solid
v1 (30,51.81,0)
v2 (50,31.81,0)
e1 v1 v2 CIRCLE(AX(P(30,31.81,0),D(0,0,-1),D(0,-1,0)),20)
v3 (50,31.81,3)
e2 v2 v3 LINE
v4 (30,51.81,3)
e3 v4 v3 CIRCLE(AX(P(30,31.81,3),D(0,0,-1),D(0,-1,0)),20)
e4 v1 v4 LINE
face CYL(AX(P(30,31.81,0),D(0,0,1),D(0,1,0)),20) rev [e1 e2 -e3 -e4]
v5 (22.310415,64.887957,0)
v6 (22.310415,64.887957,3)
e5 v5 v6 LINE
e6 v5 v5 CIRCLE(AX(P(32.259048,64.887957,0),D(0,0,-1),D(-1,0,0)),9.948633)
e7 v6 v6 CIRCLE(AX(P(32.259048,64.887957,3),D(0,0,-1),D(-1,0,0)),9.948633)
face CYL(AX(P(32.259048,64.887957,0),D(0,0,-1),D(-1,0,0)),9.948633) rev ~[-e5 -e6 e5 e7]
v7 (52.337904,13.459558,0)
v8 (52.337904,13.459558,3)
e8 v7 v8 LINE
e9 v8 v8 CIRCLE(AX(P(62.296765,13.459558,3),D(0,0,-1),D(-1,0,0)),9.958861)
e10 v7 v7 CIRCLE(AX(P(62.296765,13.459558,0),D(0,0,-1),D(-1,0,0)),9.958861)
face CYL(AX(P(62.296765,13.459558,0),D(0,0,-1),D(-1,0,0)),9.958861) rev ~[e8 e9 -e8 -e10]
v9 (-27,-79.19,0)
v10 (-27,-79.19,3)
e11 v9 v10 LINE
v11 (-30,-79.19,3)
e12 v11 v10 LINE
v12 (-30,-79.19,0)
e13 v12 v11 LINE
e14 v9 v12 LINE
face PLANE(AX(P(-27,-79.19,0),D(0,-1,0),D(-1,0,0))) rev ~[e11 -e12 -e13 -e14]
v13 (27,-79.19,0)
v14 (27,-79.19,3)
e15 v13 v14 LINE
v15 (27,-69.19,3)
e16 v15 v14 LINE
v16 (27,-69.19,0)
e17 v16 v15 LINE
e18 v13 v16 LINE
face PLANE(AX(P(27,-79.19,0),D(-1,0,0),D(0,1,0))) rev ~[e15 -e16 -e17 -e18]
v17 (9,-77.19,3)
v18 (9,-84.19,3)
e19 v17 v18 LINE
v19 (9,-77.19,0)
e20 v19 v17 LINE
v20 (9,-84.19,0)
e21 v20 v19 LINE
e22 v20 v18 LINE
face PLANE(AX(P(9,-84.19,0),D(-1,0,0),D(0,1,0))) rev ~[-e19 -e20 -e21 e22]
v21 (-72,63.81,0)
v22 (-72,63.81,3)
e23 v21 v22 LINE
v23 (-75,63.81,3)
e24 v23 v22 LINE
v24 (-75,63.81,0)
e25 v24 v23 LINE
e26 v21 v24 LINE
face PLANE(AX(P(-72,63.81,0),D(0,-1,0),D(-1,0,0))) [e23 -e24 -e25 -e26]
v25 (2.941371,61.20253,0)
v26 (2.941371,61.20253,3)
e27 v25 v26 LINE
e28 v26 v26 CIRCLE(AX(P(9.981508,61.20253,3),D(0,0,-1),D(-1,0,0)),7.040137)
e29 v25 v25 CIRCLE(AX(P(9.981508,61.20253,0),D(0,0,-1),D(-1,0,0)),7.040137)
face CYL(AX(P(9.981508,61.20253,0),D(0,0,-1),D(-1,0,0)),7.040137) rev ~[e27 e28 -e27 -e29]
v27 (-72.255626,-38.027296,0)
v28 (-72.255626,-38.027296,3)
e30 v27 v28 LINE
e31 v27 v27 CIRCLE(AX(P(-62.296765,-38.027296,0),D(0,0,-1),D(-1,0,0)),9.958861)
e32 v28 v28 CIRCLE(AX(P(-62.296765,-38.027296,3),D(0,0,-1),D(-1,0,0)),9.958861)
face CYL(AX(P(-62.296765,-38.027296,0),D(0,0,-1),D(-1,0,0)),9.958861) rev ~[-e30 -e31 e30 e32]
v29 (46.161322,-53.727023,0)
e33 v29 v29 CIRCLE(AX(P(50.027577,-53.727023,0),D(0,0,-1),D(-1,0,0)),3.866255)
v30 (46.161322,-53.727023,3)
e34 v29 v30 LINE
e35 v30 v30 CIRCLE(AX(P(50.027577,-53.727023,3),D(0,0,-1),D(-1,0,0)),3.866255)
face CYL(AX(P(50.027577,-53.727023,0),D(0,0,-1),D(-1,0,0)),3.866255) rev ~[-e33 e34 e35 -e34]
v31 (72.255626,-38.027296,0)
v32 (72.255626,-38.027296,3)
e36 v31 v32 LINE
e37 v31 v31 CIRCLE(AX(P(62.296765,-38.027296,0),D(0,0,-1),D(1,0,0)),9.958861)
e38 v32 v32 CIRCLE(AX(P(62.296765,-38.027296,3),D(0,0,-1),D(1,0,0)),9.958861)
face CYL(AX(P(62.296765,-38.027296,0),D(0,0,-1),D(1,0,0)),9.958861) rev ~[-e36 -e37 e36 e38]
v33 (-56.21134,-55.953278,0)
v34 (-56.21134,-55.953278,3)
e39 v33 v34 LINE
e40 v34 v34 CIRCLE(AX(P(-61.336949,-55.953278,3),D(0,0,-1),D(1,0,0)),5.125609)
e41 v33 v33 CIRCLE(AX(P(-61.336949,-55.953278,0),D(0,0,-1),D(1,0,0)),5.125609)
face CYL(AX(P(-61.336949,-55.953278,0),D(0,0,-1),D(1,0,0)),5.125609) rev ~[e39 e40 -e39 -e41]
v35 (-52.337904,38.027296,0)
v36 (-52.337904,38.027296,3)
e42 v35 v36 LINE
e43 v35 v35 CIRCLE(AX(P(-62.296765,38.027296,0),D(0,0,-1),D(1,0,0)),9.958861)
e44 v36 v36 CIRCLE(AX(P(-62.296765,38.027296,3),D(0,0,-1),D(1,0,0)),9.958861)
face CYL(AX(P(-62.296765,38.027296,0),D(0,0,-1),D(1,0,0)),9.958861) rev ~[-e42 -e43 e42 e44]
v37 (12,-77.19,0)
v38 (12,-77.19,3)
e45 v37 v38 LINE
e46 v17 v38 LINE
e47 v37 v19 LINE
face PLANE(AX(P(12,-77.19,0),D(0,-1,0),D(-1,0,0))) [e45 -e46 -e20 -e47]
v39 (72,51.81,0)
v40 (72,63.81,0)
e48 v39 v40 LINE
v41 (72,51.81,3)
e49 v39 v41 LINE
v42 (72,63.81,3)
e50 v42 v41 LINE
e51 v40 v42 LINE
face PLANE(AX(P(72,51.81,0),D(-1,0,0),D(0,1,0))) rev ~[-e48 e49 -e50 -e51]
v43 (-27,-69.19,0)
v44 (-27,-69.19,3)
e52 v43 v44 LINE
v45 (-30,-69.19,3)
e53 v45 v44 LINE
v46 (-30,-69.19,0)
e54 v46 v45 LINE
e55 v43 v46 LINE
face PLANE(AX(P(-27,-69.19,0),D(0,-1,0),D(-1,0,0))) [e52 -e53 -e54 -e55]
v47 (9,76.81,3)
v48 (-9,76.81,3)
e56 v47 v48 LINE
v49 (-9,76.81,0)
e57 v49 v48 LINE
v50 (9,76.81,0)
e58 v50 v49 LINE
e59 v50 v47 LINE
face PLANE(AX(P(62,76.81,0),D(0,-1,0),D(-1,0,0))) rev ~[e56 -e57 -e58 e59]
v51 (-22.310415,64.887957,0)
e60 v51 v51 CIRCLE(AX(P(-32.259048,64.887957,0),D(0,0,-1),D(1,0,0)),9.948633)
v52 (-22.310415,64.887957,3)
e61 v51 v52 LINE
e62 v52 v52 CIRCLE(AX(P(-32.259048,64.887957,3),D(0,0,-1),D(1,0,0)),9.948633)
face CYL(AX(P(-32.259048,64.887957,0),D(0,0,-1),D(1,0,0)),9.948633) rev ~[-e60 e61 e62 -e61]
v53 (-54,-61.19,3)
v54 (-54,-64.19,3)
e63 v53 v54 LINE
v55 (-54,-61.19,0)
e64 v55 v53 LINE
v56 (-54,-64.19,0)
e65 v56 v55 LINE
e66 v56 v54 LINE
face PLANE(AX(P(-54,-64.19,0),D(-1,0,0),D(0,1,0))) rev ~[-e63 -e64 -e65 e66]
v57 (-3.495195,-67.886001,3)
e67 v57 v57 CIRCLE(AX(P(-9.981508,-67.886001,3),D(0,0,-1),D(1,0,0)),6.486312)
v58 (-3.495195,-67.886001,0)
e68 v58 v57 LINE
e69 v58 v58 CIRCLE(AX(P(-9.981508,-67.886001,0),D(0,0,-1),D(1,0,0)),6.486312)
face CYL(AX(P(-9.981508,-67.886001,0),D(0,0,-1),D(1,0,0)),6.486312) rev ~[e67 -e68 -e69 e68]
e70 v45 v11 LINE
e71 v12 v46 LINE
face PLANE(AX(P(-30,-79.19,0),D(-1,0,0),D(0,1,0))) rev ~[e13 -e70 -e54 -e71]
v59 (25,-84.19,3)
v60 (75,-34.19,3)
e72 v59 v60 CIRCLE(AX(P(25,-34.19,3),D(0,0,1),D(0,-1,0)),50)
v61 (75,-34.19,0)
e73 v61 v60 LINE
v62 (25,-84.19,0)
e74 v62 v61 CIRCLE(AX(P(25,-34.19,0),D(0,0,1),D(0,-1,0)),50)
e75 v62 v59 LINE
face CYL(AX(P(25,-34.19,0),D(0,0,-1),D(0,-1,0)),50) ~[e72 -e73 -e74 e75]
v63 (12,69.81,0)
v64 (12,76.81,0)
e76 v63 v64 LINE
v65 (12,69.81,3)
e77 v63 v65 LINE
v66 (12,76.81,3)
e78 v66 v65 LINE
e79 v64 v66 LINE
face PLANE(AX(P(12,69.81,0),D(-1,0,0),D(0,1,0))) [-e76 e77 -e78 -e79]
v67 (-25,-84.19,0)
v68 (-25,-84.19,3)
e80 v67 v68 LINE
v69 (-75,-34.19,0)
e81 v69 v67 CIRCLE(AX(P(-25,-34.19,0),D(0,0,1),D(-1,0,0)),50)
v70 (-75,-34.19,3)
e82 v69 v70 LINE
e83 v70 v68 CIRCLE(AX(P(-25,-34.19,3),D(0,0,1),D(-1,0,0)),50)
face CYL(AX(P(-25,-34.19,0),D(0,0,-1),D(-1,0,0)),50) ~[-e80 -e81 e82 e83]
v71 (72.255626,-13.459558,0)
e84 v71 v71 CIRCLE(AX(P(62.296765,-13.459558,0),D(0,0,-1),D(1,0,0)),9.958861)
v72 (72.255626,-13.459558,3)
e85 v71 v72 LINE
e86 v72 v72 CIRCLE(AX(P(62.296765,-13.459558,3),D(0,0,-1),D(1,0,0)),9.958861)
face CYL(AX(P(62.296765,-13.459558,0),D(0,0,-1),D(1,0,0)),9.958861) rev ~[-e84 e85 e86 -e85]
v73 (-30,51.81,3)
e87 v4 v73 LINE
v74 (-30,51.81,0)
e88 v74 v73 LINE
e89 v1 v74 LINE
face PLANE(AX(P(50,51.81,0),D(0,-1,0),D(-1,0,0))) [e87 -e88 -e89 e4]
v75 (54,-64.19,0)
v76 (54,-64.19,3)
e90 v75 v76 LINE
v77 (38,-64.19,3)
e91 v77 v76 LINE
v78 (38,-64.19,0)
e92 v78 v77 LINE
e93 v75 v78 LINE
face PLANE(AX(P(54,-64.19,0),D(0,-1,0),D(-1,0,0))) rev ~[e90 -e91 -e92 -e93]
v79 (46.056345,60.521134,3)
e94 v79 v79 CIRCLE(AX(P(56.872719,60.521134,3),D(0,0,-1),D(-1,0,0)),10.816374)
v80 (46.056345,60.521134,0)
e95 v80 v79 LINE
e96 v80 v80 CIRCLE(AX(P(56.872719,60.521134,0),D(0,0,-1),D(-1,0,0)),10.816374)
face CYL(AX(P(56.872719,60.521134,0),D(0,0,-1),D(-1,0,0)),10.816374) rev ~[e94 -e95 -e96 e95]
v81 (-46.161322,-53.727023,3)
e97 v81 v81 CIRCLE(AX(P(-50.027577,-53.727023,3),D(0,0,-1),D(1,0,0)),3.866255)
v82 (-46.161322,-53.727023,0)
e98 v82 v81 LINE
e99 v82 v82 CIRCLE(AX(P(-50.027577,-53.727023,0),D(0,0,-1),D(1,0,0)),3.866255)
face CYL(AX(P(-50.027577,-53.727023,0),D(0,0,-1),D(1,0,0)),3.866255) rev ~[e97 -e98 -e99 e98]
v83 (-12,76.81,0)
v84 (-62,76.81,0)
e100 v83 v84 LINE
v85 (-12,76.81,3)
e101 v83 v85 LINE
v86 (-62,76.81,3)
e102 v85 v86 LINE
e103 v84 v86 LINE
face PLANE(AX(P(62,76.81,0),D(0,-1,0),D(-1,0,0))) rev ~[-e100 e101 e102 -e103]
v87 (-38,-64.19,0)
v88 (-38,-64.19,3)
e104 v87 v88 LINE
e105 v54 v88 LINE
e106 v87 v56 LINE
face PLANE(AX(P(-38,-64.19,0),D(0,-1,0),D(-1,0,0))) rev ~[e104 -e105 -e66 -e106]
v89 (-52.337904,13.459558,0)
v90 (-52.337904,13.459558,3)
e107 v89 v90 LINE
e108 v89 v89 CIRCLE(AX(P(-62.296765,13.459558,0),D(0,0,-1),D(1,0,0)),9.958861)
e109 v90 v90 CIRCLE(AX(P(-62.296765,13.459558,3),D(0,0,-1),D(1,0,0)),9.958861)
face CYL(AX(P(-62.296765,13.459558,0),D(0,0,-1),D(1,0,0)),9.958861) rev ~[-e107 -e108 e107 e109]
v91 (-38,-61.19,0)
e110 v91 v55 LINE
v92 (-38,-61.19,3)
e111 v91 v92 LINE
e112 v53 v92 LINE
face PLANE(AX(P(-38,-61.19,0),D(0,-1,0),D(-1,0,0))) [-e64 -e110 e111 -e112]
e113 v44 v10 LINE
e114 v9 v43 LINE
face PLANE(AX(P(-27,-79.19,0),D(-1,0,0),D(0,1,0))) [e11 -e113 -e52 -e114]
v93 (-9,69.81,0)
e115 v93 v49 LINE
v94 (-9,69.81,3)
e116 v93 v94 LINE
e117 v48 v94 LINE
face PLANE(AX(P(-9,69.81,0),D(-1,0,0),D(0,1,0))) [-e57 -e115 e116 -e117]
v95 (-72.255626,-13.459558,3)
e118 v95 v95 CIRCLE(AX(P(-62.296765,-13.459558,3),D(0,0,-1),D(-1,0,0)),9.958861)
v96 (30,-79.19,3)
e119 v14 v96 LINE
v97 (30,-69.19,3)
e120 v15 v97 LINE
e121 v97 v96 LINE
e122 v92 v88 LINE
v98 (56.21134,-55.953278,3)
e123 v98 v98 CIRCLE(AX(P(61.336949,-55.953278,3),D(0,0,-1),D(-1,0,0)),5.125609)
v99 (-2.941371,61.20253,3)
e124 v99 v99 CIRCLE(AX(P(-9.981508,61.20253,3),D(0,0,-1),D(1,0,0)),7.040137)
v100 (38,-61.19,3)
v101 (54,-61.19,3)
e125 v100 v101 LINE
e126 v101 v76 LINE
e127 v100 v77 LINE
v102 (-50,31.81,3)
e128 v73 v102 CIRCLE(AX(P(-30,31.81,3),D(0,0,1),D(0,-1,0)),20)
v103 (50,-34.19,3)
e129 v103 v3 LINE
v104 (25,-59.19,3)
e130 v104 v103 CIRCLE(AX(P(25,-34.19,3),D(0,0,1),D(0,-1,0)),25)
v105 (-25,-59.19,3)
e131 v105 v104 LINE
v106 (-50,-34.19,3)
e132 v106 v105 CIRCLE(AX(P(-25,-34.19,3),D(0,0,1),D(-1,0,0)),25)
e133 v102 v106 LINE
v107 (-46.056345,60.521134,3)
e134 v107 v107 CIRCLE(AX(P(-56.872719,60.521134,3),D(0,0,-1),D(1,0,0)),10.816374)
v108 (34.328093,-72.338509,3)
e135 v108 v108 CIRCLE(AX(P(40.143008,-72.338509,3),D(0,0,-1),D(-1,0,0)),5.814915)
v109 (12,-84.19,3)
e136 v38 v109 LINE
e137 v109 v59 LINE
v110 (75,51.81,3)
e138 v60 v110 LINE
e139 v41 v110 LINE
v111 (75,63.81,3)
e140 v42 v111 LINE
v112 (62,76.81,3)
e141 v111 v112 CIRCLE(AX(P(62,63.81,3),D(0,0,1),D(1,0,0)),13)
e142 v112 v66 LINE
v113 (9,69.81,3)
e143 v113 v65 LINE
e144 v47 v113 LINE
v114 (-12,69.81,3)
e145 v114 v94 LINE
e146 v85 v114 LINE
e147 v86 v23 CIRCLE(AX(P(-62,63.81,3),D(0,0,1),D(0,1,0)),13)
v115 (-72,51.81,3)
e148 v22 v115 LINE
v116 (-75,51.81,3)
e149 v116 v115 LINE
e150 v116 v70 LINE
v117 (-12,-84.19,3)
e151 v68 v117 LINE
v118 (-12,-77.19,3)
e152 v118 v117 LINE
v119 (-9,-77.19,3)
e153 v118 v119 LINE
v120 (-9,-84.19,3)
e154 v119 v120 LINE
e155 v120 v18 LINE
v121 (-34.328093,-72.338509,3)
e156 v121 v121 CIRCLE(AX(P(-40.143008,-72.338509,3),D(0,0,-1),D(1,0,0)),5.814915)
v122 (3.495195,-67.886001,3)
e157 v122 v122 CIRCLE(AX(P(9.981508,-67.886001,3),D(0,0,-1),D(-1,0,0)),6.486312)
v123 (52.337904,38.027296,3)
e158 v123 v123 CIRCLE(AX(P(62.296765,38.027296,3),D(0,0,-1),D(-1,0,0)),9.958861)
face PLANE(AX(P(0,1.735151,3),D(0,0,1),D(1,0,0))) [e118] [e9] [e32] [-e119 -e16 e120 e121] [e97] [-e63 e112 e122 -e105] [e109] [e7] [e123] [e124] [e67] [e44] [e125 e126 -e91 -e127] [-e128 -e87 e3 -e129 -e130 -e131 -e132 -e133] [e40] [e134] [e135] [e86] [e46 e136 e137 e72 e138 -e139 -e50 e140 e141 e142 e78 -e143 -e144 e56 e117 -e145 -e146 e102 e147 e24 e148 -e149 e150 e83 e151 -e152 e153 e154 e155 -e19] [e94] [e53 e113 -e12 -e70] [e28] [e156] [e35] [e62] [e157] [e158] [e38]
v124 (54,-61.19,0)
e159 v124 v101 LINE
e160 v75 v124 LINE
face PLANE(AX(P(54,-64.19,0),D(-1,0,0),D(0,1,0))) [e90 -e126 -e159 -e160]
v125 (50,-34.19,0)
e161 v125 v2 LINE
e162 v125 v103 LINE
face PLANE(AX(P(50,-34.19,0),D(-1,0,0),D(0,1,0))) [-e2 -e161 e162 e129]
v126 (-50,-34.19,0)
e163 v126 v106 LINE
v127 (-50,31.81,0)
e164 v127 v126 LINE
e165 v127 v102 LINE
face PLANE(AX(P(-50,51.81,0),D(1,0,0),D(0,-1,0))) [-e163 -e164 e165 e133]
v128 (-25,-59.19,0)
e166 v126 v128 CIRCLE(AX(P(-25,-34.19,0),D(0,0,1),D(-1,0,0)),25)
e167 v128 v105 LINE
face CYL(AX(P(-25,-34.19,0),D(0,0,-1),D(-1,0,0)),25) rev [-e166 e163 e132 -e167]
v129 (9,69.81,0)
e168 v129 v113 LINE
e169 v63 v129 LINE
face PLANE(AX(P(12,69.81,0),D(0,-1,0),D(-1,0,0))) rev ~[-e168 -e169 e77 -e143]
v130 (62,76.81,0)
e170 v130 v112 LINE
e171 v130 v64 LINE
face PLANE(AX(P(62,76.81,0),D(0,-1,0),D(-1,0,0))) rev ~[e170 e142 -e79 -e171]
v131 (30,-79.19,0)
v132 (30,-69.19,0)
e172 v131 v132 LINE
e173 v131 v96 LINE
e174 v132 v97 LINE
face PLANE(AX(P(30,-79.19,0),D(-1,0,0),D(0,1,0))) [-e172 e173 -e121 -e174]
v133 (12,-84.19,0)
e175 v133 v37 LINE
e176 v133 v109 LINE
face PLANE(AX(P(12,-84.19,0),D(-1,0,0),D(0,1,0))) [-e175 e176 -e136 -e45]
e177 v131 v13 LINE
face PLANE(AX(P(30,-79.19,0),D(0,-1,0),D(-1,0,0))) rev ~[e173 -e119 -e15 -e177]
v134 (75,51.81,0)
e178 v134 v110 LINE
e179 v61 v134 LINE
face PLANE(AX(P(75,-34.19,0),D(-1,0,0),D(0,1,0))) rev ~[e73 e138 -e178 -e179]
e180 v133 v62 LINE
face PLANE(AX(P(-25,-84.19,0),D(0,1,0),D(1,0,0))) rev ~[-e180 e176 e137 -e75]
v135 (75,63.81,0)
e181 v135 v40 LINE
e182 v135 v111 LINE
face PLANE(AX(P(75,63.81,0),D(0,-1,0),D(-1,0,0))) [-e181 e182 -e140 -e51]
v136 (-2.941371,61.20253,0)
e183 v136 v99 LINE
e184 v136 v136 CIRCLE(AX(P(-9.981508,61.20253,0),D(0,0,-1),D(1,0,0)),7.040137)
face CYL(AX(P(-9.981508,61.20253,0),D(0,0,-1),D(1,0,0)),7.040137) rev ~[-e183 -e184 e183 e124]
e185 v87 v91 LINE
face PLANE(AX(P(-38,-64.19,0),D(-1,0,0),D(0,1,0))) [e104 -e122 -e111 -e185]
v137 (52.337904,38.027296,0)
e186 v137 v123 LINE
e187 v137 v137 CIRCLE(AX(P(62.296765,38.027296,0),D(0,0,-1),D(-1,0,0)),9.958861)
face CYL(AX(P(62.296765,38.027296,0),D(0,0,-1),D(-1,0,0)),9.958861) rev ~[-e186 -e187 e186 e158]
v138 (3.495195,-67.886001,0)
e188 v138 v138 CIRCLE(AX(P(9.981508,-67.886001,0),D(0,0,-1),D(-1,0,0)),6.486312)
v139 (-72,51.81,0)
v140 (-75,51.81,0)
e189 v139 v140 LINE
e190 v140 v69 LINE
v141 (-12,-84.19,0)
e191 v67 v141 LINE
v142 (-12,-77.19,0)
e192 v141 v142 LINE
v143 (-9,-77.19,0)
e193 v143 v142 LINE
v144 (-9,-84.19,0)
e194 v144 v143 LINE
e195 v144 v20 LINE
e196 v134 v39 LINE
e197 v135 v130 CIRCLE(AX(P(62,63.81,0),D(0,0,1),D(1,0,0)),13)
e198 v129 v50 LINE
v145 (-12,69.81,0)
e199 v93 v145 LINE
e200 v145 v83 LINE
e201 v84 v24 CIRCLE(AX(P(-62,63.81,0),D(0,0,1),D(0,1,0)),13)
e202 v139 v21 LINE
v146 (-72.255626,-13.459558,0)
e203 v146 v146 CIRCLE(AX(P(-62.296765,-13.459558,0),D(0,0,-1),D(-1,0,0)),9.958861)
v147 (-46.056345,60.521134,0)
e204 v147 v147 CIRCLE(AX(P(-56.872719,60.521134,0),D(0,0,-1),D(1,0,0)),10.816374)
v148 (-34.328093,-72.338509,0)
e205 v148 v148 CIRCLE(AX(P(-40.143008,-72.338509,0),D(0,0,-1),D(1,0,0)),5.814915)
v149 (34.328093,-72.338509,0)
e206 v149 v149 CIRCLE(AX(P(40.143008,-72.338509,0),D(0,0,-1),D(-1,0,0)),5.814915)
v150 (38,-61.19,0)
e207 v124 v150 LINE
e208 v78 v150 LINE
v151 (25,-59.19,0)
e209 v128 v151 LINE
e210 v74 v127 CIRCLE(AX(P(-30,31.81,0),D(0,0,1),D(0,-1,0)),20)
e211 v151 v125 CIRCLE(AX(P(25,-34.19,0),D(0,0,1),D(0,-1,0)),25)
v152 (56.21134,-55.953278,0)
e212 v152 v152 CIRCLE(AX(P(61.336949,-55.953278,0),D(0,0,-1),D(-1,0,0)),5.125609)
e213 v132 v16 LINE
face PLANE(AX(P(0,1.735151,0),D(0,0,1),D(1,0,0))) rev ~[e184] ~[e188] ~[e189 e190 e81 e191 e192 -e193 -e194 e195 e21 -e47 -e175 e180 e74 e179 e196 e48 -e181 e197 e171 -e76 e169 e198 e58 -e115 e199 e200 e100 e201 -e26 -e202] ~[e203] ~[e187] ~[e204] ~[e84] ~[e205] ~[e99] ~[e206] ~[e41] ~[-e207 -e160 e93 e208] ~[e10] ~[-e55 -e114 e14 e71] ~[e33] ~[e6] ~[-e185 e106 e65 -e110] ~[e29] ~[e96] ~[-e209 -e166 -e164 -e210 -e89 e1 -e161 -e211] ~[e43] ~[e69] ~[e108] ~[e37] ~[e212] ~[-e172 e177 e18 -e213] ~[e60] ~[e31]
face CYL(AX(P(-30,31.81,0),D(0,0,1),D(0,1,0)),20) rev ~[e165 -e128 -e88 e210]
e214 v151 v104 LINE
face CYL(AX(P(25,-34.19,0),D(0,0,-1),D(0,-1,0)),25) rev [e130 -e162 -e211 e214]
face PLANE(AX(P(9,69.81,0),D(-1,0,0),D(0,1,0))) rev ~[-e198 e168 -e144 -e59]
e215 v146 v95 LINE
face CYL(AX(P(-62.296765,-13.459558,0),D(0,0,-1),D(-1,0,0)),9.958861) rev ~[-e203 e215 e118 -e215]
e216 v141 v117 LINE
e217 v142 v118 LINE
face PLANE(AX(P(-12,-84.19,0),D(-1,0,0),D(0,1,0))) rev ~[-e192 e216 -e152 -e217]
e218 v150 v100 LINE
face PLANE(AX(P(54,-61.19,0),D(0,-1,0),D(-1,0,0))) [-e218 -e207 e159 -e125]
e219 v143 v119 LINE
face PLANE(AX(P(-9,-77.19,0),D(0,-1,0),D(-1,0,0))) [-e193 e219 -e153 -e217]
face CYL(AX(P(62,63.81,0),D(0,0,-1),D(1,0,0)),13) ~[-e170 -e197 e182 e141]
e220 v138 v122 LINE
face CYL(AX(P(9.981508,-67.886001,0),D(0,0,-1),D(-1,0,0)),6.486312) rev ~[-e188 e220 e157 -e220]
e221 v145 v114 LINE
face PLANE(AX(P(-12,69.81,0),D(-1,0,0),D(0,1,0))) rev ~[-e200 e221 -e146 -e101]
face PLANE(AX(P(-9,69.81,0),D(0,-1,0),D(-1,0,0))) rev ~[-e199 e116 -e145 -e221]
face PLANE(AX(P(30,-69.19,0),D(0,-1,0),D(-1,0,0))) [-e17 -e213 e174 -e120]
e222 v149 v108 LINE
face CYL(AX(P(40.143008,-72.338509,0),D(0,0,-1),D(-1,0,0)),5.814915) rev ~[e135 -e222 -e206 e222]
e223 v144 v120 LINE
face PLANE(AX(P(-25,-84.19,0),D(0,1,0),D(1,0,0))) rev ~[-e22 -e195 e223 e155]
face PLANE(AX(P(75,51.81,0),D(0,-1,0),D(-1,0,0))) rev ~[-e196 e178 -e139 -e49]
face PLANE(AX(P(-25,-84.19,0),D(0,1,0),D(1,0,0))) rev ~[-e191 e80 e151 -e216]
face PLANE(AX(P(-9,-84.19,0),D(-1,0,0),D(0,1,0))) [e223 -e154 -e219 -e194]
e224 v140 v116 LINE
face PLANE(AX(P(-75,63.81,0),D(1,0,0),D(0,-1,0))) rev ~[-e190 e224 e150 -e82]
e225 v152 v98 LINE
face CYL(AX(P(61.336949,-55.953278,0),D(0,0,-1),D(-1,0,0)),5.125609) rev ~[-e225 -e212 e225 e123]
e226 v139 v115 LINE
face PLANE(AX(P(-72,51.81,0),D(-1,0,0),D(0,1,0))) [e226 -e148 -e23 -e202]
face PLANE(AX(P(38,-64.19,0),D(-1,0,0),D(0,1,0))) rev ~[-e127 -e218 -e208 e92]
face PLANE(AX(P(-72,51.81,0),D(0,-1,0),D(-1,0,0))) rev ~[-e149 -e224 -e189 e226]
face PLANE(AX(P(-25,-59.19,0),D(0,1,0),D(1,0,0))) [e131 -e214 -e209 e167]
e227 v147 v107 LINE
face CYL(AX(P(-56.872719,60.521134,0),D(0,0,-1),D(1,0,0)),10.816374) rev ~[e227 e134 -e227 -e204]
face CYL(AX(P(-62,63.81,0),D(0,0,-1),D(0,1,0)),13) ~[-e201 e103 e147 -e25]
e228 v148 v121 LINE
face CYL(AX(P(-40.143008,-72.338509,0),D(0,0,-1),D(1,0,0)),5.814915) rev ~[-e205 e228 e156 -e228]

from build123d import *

# Parameters (mm, degrees)
BOSS_EXTRUDE1_DEPTH = 3
FILLET1_R           = 20
SKETCH2_W           = 3
SKETCH2_H           = 7
SKETCH2_W_2         = 16
SKETCH2_H_2         = 3
SKETCH2_H_3         = 10
SKETCH2_H_4         = 12
CUT_EXTRUDE1_DEPTH  = 10
SKETCH3_R           = 10.816374358
SKETCH3_R_2         = 9.958860775
SKETCH3_R_3         = 9.948633444
SKETCH3_R_4         = 7.040136574
SKETCH3_R_5         = 5.125609119
SKETCH3_R_6         = 6.486312195
SKETCH3_R_7         = 5.814914906
SKETCH3_R_8         = 3.86625454
CUT_EXTRUDE2_DEPTH  = 10


with BuildPart() as part:
    # Sketch1 → Boss-Extrude1 (new body)
    with BuildSketch(Plane.XY):
        with BuildLine():
            Line((-0.5, -84.19), (0.5, -84.19))
            Line((0.5, -84.19), (25, -84.19))
            ThreePointArc((25, -84.19), (60.355339059, -69.545339059), (75, -34.19))
            Line((75, -34.19), (75, 63.81))
            ThreePointArc((75, 63.81), (71.192388155, 73.002388155), (62, 76.81))
            Line((62, 76.81), (-62, 76.81))
            ThreePointArc((-62, 76.81), (-71.192388155, 73.002388155), (-75, 63.81))
            Line((-75, 63.81), (-75, -34.19))
            ThreePointArc((-75, -34.19), (-60.355339059, -69.545339059), (-25, -84.19))
            Line((-25, -84.19), (-0.5, -84.19))
        make_face()
        with BuildLine():
            Line((50, 51.81), (-50, 51.81))
            Line((-50, 51.81), (-50, -34.19))
            ThreePointArc((-50, -34.19), (-42.67766953, -51.86766953), (-25, -59.19))
            Line((-25, -59.19), (-0.5, -59.19))
            Line((-0.5, -59.19), (0.5, -59.19))
            Line((0.5, -59.19), (25, -59.19))
            ThreePointArc((25, -59.19), (42.67766953, -51.86766953), (50, -34.19))
            Line((50, -34.19), (50, 51.81))
        make_face(mode=Mode.SUBTRACT)
    extrude(amount=BOSS_EXTRUDE1_DEPTH)

    # Fillet1
    fillet1_edges = [part.edges().sort_by_distance(p)[0] for p in [
        (50, 51.81, 1.5),
        (-50, 51.81, 1.5),
    ]]
    fillet(fillet1_edges, radius=FILLET1_R)

    # Sketch2 → Cut-Extrude1 (cut)
    with BuildSketch(Plane(origin=(0, 0, 0), x_dir=(-1, 0, 0), z_dir=(0, 0, -1))):
        with Locations((-10.5, 73.31)):
            Rectangle(SKETCH2_W, SKETCH2_H)
        with Locations((-10.5, -80.69)):
            Rectangle(SKETCH2_W, SKETCH2_H)
        with Locations((10.5, -80.69)):
            Rectangle(SKETCH2_W, SKETCH2_H)
        with Locations((10.5, 73.31)):
            Rectangle(SKETCH2_W, SKETCH2_H)
        with Locations((46, -62.69)):
            Rectangle(SKETCH2_W_2, SKETCH2_H_2)
        with Locations((-46, -62.69)):
            Rectangle(SKETCH2_W_2, SKETCH2_H_2)
        with Locations((28.5, -74.19)):
            Rectangle(SKETCH2_W, SKETCH2_H_3)
        with Locations((-28.5, -74.19)):
            Rectangle(SKETCH2_W, SKETCH2_H_3)
        with Locations((-73.5, 57.81)):
            Rectangle(SKETCH2_W, SKETCH2_H_4)
        with Locations((73.5, 57.81)):
            Rectangle(SKETCH2_W, SKETCH2_H_4)
    extrude(amount=-CUT_EXTRUDE1_DEPTH, mode=Mode.SUBTRACT)

    # Sketch3 → Cut-Extrude2 (cut)
    with BuildSketch(Plane(origin=(0, 0, 0), x_dir=(-1, 0, 0), z_dir=(0, 0, -1))):
        with Locations((-56.872719069, 60.521134432)):
            Circle(SKETCH3_R)
        with Locations((-62.296765207, 38.027296035)):
            Circle(SKETCH3_R_2)
        with Locations((-62.296765207, 13.459557643)):
            Circle(SKETCH3_R_2)
        with Locations(Location((-62.296765207, -38.027296035, 0), (0, 0, 180))):
            Circle(SKETCH3_R_2)
        with Locations(Location((-62.296765207, -13.459557643, 0), (0, 0, 180))):
            Circle(SKETCH3_R_2)
        with Locations((-32.2590485, 64.887956773)):
            Circle(SKETCH3_R_3)
        with Locations((-9.981507512, 61.202530051)):
            Circle(SKETCH3_R_4)
        with Locations((-61.336948944, -55.95327759)):
            Circle(SKETCH3_R_5)
        with Locations((-9.981507512, -67.886000723)):
            Circle(SKETCH3_R_6)
        with Locations((-40.143007857, -72.338509355)):
            Circle(SKETCH3_R_7)
        with Locations((-50.027577019, -53.727023274)):
            Circle(SKETCH3_R_8)
        with Locations(Location((50.027577019, -53.727023274, 0), (0, 0, 180))):
            Circle(SKETCH3_R_8)
        with Locations(Location((40.143007857, -72.338509355, 0), (0, 0, 180))):
            Circle(SKETCH3_R_7)
        with Locations(Location((9.981507512, -67.886000723, 0), (0, 0, 180))):
            Circle(SKETCH3_R_6)
        with Locations(Location((61.336948944, -55.95327759, 0), (0, 0, 180))):
            Circle(SKETCH3_R_5)
        with Locations(Location((9.981507512, 61.202530051, 0), (0, 0, 180))):
            Circle(SKETCH3_R_4)
        with Locations(Location((32.2590485, 64.887956773, 0), (0, 0, 180))):
            Circle(SKETCH3_R_3)
        with Locations((62.296765207, -13.459557643)):
            Circle(SKETCH3_R_2)
        with Locations((62.296765207, -38.027296035)):
            Circle(SKETCH3_R_2)
        with Locations(Location((62.296765207, 13.459557643, 0), (0, 0, 180))):
            Circle(SKETCH3_R_2)
        with Locations(Location((62.296765207, 38.027296035, 0), (0, 0, 180))):
            Circle(SKETCH3_R_2)
        with Locations(Location((56.872719069, 60.521134432, 0), (0, 0, 180))):
            Circle(SKETCH3_R)
    extrude(amount=-CUT_EXTRUDE2_DEPTH, mode=Mode.SUBTRACT)


solid = part.part
